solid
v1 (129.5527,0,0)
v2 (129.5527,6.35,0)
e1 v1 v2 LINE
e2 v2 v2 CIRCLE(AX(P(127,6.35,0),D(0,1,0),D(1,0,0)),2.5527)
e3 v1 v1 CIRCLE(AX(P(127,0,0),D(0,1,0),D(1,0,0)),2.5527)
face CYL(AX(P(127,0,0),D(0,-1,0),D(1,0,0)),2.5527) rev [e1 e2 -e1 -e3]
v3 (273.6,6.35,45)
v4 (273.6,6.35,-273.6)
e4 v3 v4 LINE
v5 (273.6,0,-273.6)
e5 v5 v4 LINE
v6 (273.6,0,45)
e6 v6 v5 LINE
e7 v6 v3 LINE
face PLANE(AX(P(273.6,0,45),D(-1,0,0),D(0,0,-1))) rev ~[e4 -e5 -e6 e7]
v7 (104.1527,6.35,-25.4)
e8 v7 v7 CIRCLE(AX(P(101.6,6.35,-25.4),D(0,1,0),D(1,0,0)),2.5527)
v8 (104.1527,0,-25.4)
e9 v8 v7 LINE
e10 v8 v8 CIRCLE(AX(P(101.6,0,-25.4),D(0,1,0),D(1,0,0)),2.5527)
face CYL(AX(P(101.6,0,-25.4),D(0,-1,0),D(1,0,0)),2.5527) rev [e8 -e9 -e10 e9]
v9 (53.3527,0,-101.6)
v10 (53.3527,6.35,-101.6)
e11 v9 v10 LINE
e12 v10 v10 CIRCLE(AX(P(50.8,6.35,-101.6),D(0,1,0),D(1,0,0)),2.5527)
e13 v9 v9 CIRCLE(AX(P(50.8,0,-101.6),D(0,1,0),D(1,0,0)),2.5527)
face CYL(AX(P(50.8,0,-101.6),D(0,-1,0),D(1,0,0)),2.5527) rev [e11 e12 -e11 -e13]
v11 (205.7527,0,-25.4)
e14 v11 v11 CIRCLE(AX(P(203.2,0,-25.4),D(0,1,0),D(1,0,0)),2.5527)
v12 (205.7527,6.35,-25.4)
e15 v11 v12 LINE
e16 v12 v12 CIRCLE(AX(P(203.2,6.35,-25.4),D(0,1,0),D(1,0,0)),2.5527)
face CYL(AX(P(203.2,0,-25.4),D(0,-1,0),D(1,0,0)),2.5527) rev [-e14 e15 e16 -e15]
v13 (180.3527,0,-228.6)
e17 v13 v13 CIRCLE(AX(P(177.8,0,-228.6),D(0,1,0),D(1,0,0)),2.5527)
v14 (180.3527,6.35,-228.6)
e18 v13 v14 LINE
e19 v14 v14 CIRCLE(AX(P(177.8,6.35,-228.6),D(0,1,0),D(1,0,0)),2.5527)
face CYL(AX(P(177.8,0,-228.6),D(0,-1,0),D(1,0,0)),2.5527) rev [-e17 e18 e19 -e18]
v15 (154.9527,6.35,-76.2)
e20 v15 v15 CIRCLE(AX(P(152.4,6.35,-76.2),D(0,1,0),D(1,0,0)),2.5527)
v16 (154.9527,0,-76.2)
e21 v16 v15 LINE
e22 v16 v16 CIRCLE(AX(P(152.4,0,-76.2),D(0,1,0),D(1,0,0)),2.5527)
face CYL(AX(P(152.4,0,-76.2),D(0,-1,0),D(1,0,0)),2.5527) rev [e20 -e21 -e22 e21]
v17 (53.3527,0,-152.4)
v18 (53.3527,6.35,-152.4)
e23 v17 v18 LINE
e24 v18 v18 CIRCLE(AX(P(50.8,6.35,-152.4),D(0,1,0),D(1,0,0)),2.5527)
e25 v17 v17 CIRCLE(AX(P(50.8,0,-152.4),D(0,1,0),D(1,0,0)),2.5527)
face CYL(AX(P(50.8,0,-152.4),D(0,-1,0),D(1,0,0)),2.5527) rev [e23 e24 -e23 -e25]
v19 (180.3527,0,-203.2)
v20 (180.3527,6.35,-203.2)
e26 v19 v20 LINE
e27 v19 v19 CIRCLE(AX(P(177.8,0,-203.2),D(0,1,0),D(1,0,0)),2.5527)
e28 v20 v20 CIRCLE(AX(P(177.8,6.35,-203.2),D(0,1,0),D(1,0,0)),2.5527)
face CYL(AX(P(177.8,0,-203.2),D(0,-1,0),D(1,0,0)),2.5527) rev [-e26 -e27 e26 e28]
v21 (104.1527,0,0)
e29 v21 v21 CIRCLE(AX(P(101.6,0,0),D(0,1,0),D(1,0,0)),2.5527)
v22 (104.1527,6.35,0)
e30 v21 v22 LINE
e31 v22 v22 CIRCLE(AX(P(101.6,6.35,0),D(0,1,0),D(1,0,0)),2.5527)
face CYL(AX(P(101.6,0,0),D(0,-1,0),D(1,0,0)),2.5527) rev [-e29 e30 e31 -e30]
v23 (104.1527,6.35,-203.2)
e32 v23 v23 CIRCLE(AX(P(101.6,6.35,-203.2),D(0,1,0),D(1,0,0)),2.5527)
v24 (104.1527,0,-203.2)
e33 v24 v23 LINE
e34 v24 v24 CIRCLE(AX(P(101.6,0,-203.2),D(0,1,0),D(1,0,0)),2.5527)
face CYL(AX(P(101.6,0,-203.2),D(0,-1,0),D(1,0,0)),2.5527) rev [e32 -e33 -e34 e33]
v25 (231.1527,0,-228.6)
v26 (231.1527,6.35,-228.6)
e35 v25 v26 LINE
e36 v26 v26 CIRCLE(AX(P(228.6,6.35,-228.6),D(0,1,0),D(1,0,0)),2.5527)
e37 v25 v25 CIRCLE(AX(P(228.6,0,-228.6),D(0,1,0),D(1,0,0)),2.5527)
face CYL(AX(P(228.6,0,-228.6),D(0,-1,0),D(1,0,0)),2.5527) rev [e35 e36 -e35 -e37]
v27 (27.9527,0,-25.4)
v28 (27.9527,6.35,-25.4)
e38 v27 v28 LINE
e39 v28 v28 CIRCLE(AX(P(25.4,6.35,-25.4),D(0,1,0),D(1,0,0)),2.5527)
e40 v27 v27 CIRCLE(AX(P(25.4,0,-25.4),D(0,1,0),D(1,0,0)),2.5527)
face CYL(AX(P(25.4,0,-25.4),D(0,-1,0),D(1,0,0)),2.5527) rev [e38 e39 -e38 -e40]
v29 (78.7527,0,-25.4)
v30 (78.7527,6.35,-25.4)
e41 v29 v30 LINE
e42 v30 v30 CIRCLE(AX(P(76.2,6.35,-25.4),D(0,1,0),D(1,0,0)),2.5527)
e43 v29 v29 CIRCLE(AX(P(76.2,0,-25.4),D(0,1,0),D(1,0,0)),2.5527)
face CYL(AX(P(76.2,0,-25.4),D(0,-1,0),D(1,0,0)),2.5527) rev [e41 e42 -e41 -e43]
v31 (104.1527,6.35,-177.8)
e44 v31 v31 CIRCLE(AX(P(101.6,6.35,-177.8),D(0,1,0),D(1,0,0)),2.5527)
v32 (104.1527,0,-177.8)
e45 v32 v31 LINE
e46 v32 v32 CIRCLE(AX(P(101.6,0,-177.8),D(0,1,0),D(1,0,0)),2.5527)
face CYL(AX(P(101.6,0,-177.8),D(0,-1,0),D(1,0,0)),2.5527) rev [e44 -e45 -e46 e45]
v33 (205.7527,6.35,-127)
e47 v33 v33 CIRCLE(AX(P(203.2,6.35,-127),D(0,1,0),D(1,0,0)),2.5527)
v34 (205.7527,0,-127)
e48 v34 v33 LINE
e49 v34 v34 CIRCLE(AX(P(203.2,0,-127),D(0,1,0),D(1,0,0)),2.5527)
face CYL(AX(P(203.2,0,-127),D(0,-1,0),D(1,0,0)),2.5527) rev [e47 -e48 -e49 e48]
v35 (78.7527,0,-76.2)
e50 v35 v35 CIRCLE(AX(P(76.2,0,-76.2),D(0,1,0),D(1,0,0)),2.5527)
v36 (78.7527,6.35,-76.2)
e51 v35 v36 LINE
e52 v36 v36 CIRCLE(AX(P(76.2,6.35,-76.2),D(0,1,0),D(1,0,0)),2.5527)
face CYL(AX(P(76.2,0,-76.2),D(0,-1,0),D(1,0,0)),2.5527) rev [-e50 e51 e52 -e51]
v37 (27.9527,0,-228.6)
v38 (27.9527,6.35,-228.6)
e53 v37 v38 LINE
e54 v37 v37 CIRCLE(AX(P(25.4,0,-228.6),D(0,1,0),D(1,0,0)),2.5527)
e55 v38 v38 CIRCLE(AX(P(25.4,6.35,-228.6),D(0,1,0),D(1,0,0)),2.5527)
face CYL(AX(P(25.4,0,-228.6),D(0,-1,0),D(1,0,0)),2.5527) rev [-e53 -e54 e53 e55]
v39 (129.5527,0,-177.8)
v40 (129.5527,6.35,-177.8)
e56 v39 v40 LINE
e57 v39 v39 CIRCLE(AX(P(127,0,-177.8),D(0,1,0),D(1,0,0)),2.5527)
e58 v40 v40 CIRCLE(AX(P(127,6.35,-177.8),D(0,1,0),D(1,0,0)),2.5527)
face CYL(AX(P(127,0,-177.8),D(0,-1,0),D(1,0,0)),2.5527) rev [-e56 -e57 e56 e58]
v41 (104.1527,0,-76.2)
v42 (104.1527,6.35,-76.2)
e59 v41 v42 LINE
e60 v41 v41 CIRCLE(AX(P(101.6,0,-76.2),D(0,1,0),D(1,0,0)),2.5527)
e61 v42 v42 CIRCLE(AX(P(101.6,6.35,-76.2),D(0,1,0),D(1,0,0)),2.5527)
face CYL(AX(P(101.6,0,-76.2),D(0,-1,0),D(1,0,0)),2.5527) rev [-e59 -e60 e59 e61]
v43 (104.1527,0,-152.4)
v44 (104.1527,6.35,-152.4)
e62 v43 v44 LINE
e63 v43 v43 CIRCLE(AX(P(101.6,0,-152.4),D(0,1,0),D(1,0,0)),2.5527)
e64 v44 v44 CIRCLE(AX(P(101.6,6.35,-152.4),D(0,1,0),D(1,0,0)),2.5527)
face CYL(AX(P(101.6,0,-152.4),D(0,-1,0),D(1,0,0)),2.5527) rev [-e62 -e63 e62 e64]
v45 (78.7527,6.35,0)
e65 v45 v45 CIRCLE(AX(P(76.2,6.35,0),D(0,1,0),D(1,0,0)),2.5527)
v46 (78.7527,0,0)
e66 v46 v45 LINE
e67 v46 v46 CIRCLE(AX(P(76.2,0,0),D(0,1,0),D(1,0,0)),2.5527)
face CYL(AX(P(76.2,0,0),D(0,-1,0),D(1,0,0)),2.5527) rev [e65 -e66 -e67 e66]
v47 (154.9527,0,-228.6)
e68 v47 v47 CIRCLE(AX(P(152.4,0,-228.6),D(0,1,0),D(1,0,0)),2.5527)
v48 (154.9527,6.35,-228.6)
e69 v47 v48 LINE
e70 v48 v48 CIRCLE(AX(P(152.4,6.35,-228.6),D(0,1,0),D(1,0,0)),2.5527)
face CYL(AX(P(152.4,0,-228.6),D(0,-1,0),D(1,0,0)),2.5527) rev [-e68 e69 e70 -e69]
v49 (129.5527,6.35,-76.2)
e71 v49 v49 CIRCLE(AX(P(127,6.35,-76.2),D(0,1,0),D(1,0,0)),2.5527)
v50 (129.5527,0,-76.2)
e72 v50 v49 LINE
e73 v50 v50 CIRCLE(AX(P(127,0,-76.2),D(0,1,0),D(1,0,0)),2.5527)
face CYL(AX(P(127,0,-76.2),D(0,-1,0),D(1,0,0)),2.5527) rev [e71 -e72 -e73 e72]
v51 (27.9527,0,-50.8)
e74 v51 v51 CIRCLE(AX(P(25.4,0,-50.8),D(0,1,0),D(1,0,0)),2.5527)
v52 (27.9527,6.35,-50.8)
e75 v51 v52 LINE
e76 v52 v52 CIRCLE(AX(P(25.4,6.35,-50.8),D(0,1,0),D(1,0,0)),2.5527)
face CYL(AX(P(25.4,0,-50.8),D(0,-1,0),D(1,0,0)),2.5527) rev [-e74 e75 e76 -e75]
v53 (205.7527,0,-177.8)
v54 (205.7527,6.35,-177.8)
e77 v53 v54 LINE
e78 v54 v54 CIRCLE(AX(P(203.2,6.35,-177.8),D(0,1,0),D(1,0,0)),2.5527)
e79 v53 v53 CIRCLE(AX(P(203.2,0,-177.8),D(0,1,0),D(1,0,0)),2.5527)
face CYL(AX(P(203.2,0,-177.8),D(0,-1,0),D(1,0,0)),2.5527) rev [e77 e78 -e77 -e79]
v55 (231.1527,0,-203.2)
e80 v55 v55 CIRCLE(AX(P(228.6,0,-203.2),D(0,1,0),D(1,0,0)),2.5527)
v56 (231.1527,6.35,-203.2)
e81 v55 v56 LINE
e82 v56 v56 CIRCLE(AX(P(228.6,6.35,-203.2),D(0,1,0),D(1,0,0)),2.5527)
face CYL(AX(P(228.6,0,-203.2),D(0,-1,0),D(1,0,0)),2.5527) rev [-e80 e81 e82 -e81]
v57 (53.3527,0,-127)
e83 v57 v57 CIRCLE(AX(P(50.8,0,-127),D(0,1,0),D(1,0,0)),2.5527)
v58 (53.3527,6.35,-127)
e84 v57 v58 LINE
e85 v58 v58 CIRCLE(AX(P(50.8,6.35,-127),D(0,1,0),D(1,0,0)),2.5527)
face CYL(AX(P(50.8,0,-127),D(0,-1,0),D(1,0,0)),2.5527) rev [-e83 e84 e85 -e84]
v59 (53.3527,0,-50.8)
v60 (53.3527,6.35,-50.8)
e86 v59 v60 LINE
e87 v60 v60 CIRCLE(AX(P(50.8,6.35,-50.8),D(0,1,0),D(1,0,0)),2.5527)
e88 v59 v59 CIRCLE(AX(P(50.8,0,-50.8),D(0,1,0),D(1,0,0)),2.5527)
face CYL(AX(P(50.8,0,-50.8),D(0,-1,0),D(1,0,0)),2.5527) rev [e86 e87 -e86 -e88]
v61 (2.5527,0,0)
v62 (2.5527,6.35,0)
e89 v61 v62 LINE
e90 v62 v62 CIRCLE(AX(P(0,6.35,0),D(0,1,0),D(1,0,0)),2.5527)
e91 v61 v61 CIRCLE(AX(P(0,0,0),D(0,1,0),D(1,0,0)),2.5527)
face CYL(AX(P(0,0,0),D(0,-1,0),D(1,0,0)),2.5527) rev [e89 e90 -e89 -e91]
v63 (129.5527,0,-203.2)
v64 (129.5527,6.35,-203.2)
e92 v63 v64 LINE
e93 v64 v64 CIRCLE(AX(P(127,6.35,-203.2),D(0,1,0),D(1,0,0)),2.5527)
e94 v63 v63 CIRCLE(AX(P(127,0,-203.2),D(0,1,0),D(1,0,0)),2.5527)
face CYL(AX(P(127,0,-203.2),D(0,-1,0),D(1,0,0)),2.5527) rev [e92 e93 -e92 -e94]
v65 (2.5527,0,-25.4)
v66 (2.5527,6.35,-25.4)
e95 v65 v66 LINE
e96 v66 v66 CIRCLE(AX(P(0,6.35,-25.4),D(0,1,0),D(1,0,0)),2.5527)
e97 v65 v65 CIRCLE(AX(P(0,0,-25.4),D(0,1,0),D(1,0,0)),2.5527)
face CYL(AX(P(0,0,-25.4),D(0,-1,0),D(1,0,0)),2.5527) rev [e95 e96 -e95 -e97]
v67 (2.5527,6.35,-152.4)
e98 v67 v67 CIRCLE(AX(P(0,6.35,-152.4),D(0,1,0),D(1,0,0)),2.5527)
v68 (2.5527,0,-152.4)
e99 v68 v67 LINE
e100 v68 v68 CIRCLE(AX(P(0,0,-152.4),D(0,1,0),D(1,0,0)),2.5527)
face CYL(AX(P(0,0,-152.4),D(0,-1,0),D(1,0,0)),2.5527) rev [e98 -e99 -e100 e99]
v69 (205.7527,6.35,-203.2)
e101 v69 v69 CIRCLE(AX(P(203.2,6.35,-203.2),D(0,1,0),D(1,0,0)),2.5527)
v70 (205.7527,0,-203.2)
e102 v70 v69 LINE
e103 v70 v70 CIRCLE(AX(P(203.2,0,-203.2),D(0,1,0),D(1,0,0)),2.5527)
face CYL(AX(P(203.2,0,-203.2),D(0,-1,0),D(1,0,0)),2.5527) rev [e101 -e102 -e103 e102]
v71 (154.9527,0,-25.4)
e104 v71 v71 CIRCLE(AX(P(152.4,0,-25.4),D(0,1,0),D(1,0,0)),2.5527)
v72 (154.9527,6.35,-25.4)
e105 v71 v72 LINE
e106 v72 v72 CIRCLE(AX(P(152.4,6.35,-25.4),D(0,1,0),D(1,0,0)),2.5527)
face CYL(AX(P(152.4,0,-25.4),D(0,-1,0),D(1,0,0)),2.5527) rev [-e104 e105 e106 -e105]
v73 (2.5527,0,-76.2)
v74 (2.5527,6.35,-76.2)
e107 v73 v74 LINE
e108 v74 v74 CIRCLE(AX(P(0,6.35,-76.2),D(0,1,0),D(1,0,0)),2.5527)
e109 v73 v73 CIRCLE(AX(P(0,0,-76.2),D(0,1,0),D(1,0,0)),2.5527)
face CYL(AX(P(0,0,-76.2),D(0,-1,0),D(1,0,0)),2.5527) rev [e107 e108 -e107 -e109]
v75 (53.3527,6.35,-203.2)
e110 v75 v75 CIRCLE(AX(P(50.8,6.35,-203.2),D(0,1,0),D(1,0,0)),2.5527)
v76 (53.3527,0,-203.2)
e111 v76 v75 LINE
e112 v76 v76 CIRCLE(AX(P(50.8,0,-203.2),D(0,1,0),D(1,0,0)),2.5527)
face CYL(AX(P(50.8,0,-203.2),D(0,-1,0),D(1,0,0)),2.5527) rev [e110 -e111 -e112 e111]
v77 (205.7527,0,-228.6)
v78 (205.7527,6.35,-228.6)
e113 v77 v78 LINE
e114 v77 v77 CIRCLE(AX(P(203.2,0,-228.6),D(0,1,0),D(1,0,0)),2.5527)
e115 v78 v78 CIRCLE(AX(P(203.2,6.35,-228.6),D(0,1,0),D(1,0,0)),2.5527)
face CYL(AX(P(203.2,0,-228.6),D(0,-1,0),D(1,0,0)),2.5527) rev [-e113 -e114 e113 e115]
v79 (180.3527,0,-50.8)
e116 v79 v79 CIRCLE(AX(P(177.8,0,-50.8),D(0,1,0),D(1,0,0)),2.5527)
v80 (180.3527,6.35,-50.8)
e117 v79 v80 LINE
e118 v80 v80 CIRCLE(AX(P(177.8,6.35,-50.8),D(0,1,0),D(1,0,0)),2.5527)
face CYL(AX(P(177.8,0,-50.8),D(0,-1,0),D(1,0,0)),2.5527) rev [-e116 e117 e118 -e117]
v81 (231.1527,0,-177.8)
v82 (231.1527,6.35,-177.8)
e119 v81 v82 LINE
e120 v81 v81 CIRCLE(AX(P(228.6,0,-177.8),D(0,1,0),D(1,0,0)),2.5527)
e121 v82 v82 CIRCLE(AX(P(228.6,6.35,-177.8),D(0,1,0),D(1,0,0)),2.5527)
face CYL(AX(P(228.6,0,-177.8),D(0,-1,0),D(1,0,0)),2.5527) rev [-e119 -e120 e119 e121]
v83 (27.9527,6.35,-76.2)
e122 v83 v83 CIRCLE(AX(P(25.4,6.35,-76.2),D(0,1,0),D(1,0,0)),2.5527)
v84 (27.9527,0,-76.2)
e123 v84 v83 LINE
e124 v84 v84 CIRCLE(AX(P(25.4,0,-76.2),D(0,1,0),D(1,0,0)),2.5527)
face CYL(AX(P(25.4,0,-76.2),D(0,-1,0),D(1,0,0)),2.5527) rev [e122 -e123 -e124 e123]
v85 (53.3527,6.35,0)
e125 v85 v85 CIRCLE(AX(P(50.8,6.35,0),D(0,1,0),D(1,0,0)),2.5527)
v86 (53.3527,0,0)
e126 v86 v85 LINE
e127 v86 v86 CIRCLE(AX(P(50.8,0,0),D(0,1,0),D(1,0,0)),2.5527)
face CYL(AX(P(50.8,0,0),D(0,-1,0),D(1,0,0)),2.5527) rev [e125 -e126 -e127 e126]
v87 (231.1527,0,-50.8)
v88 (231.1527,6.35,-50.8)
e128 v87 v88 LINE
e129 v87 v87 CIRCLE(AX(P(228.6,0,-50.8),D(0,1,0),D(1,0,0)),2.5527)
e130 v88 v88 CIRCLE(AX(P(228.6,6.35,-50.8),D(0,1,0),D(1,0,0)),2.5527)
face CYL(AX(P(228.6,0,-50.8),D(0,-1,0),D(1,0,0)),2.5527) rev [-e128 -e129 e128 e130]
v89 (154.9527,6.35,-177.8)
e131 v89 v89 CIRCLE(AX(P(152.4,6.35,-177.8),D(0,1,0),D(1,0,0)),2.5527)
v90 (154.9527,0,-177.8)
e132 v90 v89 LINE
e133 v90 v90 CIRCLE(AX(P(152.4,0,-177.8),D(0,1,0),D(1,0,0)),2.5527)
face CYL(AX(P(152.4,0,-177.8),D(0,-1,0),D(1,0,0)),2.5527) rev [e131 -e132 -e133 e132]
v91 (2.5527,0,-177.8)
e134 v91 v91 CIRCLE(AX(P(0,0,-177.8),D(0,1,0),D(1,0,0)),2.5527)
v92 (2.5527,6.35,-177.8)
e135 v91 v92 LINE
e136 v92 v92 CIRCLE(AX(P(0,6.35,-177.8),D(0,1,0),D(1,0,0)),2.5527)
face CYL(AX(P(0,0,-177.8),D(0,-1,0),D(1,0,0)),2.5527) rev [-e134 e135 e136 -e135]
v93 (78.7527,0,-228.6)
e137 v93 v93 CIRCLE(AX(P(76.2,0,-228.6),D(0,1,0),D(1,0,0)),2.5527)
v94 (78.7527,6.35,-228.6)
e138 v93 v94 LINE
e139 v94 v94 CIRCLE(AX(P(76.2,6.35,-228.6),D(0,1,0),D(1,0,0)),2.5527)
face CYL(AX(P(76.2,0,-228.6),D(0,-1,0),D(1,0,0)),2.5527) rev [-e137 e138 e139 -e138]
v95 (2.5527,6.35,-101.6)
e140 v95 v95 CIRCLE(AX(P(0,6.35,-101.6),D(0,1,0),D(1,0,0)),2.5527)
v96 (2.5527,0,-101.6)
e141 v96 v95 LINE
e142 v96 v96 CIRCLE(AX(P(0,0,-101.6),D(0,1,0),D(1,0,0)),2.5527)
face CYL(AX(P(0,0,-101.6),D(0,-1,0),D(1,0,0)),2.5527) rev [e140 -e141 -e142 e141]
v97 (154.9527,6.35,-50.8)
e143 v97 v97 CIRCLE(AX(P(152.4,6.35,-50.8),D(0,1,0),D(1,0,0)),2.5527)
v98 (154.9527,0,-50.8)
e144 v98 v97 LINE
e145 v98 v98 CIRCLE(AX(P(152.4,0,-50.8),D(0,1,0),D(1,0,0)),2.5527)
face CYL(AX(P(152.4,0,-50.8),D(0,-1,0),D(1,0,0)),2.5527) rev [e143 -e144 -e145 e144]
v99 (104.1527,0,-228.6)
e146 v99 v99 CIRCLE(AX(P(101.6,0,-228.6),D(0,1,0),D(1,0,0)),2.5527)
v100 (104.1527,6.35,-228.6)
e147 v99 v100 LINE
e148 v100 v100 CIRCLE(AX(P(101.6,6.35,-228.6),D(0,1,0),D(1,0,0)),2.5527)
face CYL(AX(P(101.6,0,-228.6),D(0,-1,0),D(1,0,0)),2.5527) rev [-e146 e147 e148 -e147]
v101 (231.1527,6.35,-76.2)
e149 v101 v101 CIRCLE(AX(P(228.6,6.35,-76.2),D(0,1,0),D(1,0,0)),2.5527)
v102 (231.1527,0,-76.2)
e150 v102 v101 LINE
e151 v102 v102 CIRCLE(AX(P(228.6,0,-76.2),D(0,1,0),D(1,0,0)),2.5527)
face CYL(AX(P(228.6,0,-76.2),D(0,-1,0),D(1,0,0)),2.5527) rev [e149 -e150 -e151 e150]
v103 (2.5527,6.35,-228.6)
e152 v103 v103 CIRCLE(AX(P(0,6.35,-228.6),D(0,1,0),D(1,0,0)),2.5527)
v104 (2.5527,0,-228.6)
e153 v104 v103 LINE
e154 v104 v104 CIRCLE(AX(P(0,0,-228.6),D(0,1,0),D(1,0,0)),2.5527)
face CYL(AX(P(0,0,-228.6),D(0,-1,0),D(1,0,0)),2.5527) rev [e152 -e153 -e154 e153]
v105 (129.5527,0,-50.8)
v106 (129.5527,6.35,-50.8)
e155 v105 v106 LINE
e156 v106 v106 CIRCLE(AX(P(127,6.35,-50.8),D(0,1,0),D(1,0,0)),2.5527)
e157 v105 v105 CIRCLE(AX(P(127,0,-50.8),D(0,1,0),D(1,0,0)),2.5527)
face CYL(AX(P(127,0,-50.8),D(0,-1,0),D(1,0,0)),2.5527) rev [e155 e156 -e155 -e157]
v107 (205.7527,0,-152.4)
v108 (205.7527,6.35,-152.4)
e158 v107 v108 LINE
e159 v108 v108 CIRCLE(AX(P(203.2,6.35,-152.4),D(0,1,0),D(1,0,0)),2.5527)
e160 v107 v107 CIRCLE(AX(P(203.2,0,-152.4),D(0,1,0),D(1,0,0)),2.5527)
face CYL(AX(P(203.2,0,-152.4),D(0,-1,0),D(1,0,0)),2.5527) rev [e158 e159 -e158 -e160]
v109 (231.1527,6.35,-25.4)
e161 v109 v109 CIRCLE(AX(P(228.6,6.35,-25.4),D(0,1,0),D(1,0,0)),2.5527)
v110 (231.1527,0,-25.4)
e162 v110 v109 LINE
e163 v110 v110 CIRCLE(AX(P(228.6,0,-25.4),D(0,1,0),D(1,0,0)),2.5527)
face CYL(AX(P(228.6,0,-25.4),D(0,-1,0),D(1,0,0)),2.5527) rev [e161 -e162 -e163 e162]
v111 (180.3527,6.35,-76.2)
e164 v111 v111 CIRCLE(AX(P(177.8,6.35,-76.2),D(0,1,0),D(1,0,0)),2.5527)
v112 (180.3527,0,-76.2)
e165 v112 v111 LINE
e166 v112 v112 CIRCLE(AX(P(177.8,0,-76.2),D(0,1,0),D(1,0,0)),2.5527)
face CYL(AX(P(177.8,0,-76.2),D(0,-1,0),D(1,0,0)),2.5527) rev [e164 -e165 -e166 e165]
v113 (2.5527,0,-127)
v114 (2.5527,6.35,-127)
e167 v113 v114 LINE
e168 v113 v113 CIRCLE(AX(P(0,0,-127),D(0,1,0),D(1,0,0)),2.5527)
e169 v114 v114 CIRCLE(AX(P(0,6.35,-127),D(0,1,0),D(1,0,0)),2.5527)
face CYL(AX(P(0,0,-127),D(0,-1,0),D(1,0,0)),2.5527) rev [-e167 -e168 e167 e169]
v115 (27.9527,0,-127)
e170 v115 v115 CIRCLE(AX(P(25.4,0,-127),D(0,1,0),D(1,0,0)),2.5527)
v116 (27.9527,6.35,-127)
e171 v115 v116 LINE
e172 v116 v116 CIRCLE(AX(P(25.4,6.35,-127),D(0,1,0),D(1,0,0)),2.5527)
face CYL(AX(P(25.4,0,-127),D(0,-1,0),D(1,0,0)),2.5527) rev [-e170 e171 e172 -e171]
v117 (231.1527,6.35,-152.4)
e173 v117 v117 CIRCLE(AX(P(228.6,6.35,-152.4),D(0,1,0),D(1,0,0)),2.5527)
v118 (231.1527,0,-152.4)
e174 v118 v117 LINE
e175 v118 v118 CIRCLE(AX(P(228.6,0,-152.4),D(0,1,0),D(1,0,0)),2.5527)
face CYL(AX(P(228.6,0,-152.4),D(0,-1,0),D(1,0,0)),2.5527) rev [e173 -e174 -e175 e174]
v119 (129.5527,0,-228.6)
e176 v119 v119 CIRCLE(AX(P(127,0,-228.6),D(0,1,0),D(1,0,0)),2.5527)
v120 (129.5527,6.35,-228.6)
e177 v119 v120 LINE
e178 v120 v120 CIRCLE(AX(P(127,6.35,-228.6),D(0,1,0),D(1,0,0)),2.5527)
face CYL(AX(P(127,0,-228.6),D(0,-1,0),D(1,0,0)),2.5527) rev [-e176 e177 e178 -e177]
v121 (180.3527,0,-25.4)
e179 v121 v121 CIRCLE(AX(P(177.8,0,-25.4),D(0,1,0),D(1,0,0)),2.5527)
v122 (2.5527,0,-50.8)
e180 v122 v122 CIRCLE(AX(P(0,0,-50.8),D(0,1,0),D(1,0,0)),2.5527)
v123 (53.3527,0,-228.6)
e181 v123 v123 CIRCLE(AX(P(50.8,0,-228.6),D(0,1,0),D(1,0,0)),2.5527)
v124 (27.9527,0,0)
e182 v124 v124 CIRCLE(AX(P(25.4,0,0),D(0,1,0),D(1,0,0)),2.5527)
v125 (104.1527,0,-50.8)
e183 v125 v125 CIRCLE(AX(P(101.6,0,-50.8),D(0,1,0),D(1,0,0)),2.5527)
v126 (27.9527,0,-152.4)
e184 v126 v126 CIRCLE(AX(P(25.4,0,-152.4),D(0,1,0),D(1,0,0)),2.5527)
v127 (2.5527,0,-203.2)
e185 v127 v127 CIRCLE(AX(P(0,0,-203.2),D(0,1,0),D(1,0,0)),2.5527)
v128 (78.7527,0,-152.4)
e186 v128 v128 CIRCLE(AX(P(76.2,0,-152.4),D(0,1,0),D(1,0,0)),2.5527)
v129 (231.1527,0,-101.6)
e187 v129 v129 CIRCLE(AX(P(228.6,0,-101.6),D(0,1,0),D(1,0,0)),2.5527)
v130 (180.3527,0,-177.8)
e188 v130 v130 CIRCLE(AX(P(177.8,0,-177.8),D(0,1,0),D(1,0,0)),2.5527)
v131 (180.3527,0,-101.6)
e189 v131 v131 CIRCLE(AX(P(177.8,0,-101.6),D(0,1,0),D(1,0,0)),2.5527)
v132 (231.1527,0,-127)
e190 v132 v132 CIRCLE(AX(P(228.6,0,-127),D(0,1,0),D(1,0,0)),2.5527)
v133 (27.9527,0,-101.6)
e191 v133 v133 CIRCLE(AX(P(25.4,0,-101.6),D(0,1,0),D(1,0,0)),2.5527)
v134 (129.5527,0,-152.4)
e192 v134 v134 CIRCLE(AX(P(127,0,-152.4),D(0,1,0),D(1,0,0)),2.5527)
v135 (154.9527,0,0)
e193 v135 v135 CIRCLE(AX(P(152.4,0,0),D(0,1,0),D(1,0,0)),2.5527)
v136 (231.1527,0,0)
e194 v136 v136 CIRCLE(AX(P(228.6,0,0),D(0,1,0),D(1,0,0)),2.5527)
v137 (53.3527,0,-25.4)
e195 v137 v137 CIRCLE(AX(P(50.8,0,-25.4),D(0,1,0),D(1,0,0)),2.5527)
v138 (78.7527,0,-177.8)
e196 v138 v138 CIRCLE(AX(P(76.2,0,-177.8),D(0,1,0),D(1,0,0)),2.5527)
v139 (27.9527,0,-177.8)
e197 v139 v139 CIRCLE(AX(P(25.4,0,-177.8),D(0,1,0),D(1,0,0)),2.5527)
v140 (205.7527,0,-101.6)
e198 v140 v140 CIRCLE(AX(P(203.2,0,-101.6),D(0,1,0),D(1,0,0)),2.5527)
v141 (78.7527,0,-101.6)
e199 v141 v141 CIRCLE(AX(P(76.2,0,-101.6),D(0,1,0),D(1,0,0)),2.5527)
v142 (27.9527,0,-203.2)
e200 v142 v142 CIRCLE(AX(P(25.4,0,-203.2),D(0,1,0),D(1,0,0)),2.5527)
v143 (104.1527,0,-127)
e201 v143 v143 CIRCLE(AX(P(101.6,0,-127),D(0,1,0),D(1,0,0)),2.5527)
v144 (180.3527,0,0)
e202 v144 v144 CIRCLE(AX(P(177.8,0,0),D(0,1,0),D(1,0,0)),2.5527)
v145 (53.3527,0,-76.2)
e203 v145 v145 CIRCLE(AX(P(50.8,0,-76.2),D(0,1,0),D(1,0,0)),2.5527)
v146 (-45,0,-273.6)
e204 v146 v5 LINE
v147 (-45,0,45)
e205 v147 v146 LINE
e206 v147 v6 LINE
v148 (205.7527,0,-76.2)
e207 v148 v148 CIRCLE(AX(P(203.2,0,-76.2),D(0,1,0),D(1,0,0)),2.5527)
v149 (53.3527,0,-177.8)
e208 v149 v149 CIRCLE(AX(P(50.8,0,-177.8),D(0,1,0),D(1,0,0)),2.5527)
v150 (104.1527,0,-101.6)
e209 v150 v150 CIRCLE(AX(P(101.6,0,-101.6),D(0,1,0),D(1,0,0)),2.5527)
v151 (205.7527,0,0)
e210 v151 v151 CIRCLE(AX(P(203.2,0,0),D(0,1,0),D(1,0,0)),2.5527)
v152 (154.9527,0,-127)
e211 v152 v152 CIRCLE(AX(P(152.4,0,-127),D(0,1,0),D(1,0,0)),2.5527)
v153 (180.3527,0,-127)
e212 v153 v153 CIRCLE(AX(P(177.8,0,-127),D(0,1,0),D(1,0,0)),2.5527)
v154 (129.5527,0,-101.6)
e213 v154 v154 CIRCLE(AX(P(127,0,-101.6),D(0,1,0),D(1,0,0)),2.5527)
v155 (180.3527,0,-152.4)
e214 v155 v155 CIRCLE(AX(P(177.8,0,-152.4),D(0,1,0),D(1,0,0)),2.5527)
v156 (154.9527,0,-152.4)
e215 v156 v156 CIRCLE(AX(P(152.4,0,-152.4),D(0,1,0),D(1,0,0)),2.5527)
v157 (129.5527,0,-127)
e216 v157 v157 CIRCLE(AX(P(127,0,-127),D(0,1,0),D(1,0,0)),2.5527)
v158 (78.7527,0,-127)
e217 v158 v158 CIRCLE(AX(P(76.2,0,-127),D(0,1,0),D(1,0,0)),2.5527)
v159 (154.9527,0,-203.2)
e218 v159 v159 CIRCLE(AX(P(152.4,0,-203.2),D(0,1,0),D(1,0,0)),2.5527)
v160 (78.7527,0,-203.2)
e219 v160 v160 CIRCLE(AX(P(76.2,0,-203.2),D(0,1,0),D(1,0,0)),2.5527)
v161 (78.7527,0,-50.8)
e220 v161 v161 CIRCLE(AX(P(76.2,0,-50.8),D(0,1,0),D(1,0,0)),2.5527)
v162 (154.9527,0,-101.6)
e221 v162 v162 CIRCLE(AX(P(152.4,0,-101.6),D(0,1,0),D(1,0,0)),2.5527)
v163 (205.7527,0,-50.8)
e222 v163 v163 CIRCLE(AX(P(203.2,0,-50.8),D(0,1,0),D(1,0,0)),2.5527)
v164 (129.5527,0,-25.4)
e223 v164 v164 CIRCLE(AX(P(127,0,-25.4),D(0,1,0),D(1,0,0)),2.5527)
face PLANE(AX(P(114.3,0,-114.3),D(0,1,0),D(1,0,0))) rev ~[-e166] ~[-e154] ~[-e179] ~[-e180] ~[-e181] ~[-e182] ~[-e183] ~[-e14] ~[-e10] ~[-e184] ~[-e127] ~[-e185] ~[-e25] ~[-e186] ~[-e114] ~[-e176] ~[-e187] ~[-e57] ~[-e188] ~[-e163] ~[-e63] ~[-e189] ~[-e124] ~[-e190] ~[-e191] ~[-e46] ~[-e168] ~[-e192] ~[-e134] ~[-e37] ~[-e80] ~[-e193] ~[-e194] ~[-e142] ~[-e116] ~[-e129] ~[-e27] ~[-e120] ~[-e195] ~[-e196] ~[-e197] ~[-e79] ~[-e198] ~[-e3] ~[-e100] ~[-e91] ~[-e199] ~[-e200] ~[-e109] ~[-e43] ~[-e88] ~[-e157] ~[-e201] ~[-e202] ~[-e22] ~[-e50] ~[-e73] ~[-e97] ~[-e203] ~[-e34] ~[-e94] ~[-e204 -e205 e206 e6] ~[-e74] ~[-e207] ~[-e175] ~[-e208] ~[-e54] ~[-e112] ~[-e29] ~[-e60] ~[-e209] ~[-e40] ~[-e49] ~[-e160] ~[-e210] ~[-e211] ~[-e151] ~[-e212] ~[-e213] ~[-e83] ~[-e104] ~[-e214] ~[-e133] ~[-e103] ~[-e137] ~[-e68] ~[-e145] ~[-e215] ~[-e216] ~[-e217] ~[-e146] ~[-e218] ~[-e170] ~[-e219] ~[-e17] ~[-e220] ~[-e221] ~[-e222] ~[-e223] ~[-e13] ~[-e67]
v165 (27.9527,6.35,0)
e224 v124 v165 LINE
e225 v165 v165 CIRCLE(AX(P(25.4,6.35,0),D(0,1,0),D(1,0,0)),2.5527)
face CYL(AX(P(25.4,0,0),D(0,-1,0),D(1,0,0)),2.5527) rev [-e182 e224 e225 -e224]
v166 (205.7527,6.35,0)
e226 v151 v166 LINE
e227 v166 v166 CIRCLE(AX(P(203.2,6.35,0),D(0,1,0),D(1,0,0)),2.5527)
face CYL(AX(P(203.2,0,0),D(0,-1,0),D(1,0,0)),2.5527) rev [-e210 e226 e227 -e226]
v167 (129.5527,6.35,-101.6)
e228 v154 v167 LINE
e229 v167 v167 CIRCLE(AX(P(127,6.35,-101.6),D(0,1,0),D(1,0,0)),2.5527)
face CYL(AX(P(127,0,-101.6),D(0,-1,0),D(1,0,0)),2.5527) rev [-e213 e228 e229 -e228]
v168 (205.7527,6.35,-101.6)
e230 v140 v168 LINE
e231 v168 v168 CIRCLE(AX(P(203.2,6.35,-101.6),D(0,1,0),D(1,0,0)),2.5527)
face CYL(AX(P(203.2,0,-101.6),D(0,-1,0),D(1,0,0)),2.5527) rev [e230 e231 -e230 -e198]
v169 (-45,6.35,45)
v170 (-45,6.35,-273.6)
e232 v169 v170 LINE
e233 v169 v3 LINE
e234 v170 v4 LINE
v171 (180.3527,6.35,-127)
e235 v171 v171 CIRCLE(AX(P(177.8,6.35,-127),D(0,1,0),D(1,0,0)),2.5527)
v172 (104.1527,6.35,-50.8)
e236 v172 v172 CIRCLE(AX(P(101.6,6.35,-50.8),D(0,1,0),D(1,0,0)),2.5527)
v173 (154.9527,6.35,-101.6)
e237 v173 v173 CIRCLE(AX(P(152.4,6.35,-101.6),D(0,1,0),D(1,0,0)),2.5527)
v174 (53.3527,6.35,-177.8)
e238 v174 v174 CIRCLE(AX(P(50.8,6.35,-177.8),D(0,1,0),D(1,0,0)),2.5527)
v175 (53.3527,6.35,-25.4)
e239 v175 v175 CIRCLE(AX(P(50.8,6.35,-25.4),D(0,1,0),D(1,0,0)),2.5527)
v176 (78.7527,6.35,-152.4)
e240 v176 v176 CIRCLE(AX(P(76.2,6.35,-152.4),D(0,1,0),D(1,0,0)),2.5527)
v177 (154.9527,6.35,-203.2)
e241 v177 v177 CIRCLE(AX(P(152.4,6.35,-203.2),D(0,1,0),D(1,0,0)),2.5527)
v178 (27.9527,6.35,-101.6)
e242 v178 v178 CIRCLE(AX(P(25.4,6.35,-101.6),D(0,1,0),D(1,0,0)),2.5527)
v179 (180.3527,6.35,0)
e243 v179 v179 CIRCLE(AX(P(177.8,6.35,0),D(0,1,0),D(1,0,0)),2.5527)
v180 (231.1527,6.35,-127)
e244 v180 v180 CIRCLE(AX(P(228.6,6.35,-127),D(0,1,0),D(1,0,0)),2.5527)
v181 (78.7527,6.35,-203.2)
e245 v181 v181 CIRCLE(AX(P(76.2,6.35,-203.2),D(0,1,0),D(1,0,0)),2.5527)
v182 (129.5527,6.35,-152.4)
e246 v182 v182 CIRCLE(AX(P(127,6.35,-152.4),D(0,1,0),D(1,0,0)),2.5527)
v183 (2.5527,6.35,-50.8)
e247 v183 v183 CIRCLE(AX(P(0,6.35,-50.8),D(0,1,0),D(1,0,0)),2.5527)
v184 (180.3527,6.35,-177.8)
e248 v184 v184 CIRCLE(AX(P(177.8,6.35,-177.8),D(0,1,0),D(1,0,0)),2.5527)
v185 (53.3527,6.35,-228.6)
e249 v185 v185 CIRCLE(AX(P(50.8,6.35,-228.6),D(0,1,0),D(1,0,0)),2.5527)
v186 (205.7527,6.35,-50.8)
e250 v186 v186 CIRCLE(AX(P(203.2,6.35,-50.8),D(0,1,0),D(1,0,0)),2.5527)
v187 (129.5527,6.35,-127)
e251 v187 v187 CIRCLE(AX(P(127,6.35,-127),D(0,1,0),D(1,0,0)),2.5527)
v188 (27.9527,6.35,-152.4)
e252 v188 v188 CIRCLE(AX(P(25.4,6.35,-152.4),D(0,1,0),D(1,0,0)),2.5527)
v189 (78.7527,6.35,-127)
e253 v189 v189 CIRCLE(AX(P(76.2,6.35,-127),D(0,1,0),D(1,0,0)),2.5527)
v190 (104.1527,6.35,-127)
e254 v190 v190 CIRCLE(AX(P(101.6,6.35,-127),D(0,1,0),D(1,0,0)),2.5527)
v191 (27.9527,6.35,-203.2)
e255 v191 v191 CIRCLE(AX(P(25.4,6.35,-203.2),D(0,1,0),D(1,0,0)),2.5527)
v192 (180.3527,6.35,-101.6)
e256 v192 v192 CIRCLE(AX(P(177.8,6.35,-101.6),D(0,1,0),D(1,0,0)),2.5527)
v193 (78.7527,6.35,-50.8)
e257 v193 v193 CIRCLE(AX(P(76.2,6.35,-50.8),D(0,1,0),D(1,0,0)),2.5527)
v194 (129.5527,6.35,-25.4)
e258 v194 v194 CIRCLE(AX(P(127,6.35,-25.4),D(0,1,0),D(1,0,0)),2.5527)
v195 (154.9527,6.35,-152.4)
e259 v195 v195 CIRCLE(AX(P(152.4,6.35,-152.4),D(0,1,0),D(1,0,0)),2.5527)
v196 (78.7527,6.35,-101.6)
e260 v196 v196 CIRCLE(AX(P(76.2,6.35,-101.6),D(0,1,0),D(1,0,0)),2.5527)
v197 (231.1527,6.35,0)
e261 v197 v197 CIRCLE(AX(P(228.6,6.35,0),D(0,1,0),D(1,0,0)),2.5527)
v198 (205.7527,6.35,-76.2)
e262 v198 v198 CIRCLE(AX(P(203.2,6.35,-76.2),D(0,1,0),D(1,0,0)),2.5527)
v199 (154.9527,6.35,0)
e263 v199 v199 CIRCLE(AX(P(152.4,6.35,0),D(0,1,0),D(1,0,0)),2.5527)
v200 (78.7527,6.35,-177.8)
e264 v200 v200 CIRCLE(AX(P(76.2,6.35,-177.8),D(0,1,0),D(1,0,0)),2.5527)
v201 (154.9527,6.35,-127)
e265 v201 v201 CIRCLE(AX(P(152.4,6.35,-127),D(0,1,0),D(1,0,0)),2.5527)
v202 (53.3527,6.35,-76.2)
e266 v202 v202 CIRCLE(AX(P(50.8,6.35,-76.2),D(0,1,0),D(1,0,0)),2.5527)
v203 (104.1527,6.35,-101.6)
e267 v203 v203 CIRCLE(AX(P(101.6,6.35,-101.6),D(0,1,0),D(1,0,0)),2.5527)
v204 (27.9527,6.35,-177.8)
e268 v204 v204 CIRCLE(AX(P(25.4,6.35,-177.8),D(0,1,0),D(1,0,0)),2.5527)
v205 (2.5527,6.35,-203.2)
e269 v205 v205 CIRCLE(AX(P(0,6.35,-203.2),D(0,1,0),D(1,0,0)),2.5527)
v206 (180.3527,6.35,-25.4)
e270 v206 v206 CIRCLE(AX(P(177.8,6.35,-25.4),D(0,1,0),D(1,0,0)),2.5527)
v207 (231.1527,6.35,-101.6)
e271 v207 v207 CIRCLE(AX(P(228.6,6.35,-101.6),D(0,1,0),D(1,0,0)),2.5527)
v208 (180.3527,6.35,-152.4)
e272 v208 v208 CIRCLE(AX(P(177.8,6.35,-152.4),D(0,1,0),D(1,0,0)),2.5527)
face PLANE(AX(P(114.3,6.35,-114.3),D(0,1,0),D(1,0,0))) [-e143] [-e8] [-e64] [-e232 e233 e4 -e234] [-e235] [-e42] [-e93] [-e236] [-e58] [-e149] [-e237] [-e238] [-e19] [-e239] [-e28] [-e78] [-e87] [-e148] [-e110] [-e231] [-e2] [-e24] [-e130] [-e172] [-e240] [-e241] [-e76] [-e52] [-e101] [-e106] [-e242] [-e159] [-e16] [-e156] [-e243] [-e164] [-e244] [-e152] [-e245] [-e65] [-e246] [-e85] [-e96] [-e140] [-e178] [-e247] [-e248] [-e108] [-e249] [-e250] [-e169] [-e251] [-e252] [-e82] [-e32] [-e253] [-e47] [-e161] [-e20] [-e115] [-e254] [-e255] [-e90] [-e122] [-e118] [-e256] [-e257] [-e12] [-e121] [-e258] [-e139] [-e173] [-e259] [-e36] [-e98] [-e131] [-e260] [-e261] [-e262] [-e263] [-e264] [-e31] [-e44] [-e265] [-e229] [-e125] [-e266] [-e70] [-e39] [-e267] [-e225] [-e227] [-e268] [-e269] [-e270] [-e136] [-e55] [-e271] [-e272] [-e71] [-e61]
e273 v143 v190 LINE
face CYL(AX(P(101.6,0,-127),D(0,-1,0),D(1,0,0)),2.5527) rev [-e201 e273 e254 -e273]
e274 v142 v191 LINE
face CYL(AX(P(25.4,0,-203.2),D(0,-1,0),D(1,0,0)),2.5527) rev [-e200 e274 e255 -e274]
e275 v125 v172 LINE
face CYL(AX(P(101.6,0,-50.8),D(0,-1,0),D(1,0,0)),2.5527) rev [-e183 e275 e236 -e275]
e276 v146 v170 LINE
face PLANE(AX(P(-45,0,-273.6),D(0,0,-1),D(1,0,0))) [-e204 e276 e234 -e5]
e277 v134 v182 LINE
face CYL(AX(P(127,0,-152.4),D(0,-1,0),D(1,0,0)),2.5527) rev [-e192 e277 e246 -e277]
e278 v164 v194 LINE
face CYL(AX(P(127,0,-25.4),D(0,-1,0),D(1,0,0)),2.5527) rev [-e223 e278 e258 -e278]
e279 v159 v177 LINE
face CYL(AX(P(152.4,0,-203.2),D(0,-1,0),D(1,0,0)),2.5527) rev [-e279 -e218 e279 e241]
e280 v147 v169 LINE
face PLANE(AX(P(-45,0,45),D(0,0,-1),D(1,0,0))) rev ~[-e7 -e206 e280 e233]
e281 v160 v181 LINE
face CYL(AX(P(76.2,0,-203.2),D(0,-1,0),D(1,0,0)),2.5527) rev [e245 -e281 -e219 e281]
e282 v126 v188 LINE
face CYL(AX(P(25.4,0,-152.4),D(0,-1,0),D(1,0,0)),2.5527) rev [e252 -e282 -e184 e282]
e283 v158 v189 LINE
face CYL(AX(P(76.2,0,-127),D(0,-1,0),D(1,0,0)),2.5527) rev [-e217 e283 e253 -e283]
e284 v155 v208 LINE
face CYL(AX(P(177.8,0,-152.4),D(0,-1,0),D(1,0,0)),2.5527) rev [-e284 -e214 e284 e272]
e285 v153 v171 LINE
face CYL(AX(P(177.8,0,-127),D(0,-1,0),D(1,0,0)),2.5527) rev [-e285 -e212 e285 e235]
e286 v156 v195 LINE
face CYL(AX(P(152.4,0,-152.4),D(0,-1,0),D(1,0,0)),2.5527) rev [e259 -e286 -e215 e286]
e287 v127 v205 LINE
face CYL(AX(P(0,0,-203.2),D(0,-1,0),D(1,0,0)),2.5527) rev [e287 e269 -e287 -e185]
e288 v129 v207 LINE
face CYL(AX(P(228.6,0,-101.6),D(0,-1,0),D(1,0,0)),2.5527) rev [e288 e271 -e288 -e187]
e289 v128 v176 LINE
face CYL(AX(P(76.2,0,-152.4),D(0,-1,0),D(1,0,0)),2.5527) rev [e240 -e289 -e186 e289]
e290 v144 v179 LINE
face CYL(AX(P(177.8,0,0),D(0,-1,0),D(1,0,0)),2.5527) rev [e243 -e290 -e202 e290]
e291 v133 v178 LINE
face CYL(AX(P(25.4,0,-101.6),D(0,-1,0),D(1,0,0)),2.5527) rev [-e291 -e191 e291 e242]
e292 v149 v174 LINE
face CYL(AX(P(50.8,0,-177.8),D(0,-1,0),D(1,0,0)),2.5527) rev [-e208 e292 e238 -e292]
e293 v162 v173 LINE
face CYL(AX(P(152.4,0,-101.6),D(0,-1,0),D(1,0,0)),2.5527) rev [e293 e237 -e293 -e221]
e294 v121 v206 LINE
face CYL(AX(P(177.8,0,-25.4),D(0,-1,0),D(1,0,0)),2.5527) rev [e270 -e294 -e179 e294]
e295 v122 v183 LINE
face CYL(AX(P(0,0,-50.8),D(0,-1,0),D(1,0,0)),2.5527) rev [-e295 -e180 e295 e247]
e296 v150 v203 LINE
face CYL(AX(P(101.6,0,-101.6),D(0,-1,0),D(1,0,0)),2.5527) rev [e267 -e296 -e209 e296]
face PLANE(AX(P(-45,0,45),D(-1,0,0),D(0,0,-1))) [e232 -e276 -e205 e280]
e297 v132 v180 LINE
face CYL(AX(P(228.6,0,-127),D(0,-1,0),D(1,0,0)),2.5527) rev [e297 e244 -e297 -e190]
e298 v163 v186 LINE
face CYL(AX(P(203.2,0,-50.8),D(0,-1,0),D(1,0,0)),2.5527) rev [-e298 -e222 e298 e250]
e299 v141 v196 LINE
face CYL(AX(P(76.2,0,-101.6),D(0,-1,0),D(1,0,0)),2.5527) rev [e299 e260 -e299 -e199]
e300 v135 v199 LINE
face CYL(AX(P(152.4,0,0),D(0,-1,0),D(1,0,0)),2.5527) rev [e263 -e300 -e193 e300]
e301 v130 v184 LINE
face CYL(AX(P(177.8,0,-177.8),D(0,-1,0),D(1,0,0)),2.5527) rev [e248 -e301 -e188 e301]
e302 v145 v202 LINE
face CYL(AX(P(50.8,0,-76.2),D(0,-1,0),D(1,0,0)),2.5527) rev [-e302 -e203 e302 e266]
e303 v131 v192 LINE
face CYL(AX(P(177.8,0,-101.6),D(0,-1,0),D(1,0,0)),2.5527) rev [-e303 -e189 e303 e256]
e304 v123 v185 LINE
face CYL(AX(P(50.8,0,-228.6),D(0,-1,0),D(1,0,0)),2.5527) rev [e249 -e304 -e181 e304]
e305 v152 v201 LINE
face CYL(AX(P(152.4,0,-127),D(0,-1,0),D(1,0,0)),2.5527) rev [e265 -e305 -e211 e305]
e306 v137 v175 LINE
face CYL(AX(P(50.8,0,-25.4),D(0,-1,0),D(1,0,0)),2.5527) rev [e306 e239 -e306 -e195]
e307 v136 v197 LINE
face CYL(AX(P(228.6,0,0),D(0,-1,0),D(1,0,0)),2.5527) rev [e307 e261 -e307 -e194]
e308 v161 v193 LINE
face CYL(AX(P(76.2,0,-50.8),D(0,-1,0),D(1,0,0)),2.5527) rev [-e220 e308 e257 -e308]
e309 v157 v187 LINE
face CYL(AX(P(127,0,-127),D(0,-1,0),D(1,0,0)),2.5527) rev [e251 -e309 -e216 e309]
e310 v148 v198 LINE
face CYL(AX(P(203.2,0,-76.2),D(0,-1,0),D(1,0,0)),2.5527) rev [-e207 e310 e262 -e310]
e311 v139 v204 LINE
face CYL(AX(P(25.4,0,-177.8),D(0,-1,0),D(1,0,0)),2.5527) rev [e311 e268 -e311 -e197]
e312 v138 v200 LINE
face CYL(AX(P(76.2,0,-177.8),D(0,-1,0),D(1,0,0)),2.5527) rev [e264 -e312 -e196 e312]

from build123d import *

# Parameters (mm, degrees)
SKETCH1_W           = 318.6
SKETCH1_H           = 318.6
SKETCH1_R           = 2.5527
BOSS_EXTRUDE1_DEPTH = 6.35


with BuildPart() as part:
    # Sketch1 → Boss-Extrude1 (new body)
    with BuildSketch(Plane(origin=(0, 0, 0), x_dir=(1, 0, 0), z_dir=(0, 1, 0))):
        with Locations((114.3, 114.3)):
            Rectangle(SKETCH1_W, SKETCH1_H)
        Circle(SKETCH1_R, mode=Mode.SUBTRACT)
        with Locations((25.4, 0)):
            Circle(SKETCH1_R, mode=Mode.SUBTRACT)
        with Locations((50.8, 0)):
            Circle(SKETCH1_R, mode=Mode.SUBTRACT)
        with Locations((76.2, 0)):
            Circle(SKETCH1_R, mode=Mode.SUBTRACT)
        with Locations((101.6, 0)):
            Circle(SKETCH1_R, mode=Mode.SUBTRACT)
        with Locations((127, 0)):
            Circle(SKETCH1_R, mode=Mode.SUBTRACT)
        with Locations((152.4, 0)):
            Circle(SKETCH1_R, mode=Mode.SUBTRACT)
        with Locations((177.8, 0)):
            Circle(SKETCH1_R, mode=Mode.SUBTRACT)
        with Locations((203.2, 0)):
            Circle(SKETCH1_R, mode=Mode.SUBTRACT)
        with Locations((228.6, 0)):
            Circle(SKETCH1_R, mode=Mode.SUBTRACT)
        with Locations((0, 25.4)):
            Circle(SKETCH1_R, mode=Mode.SUBTRACT)
        with Locations((25.4, 25.4)):
            Circle(SKETCH1_R, mode=Mode.SUBTRACT)
        with Locations((50.8, 25.4)):
            Circle(SKETCH1_R, mode=Mode.SUBTRACT)
        with Locations((76.2, 25.4)):
            Circle(SKETCH1_R, mode=Mode.SUBTRACT)
        with Locations((101.6, 25.4)):
            Circle(SKETCH1_R, mode=Mode.SUBTRACT)
        with Locations((127, 25.4)):
            Circle(SKETCH1_R, mode=Mode.SUBTRACT)
        with Locations((152.4, 25.4)):
            Circle(SKETCH1_R, mode=Mode.SUBTRACT)
        with Locations((177.8, 25.4)):
            Circle(SKETCH1_R, mode=Mode.SUBTRACT)
        with Locations((203.2, 25.4)):
            Circle(SKETCH1_R, mode=Mode.SUBTRACT)
        with Locations((228.6, 25.4)):
            Circle(SKETCH1_R, mode=Mode.SUBTRACT)
        with Locations((0, 50.8)):
            Circle(SKETCH1_R, mode=Mode.SUBTRACT)
        with Locations((25.4, 50.8)):
            Circle(SKETCH1_R, mode=Mode.SUBTRACT)
        with Locations((50.8, 50.8)):
            Circle(SKETCH1_R, mode=Mode.SUBTRACT)
        with Locations((76.2, 50.8)):
            Circle(SKETCH1_R, mode=Mode.SUBTRACT)
        with Locations((101.6, 50.8)):
            Circle(SKETCH1_R, mode=Mode.SUBTRACT)
        with Locations((127, 50.8)):
            Circle(SKETCH1_R, mode=Mode.SUBTRACT)
        with Locations((152.4, 50.8)):
            Circle(SKETCH1_R, mode=Mode.SUBTRACT)
        with Locations((177.8, 50.8)):
            Circle(SKETCH1_R, mode=Mode.SUBTRACT)
        with Locations((203.2, 50.8)):
            Circle(SKETCH1_R, mode=Mode.SUBTRACT)
        with Locations((228.6, 50.8)):
            Circle(SKETCH1_R, mode=Mode.SUBTRACT)
        with Locations((0, 76.2)):
            Circle(SKETCH1_R, mode=Mode.SUBTRACT)
        with Locations((25.4, 76.2)):
            Circle(SKETCH1_R, mode=Mode.SUBTRACT)
        with Locations((50.8, 76.2)):
            Circle(SKETCH1_R, mode=Mode.SUBTRACT)
        with Locations((76.2, 76.2)):
            Circle(SKETCH1_R, mode=Mode.SUBTRACT)
        with Locations((101.6, 76.2)):
            Circle(SKETCH1_R, mode=Mode.SUBTRACT)
        with Locations((127, 76.2)):
            Circle(SKETCH1_R, mode=Mode.SUBTRACT)
        with Locations((152.4, 76.2)):
            Circle(SKETCH1_R, mode=Mode.SUBTRACT)
        with Locations((177.8, 76.2)):
            Circle(SKETCH1_R, mode=Mode.SUBTRACT)
        with Locations((203.2, 76.2)):
            Circle(SKETCH1_R, mode=Mode.SUBTRACT)
        with Locations((228.6, 76.2)):
            Circle(SKETCH1_R, mode=Mode.SUBTRACT)
        with Locations((0, 101.6)):
            Circle(SKETCH1_R, mode=Mode.SUBTRACT)
        with Locations((25.4, 101.6)):
            Circle(SKETCH1_R, mode=Mode.SUBTRACT)
        with Locations((50.8, 101.6)):
            Circle(SKETCH1_R, mode=Mode.SUBTRACT)
        with Locations((76.2, 101.6)):
            Circle(SKETCH1_R, mode=Mode.SUBTRACT)
        with Locations((101.6, 101.6)):
            Circle(SKETCH1_R, mode=Mode.SUBTRACT)
        with Locations((127, 101.6)):
            Circle(SKETCH1_R, mode=Mode.SUBTRACT)
        with Locations((152.4, 101.6)):
            Circle(SKETCH1_R, mode=Mode.SUBTRACT)
        with Locations((177.8, 101.6)):
            Circle(SKETCH1_R, mode=Mode.SUBTRACT)
        with Locations((203.2, 101.6)):
            Circle(SKETCH1_R, mode=Mode.SUBTRACT)
        with Locations((228.6, 101.6)):
            Circle(SKETCH1_R, mode=Mode.SUBTRACT)
        with Locations((0, 127)):
            Circle(SKETCH1_R, mode=Mode.SUBTRACT)
        with Locations((25.4, 127)):
            Circle(SKETCH1_R, mode=Mode.SUBTRACT)
        with Locations((50.8, 127)):
            Circle(SKETCH1_R, mode=Mode.SUBTRACT)
        with Locations((76.2, 127)):
            Circle(SKETCH1_R, mode=Mode.SUBTRACT)
        with Locations((101.6, 127)):
            Circle(SKETCH1_R, mode=Mode.SUBTRACT)
        with Locations((127, 127)):
            Circle(SKETCH1_R, mode=Mode.SUBTRACT)
        with Locations((152.4, 127)):
            Circle(SKETCH1_R, mode=Mode.SUBTRACT)
        with Locations((177.8, 127)):
            Circle(SKETCH1_R, mode=Mode.SUBTRACT)
        with Locations((203.2, 127)):
            Circle(SKETCH1_R, mode=Mode.SUBTRACT)
        with Locations((228.6, 127)):
            Circle(SKETCH1_R, mode=Mode.SUBTRACT)
        with Locations((0, 152.4)):
            Circle(SKETCH1_R, mode=Mode.SUBTRACT)
        with Locations((25.4, 152.4)):
            Circle(SKETCH1_R, mode=Mode.SUBTRACT)
        with Locations((50.8, 152.4)):
            Circle(SKETCH1_R, mode=Mode.SUBTRACT)
        with Locations((76.2, 152.4)):
            Circle(SKETCH1_R, mode=Mode.SUBTRACT)
        with Locations((101.6, 152.4)):
            Circle(SKETCH1_R, mode=Mode.SUBTRACT)
        with Locations((127, 152.4)):
            Circle(SKETCH1_R, mode=Mode.SUBTRACT)
        with Locations((152.4, 152.4)):
            Circle(SKETCH1_R, mode=Mode.SUBTRACT)
        with Locations((177.8, 152.4)):
            Circle(SKETCH1_R, mode=Mode.SUBTRACT)
        with Locations((203.2, 152.4)):
            Circle(SKETCH1_R, mode=Mode.SUBTRACT)
        with Locations((228.6, 152.4)):
            Circle(SKETCH1_R, mode=Mode.SUBTRACT)
        with Locations((0, 177.8)):
            Circle(SKETCH1_R, mode=Mode.SUBTRACT)
        with Locations((25.4, 177.8)):
            Circle(SKETCH1_R, mode=Mode.SUBTRACT)
        with Locations((50.8, 177.8)):
            Circle(SKETCH1_R, mode=Mode.SUBTRACT)
        with Locations((76.2, 177.8)):
            Circle(SKETCH1_R, mode=Mode.SUBTRACT)
        with Locations((101.6, 177.8)):
            Circle(SKETCH1_R, mode=Mode.SUBTRACT)
        with Locations((127, 177.8)):
            Circle(SKETCH1_R, mode=Mode.SUBTRACT)
        with Locations((152.4, 177.8)):
            Circle(SKETCH1_R, mode=Mode.SUBTRACT)
        with Locations((177.8, 177.8)):
            Circle(SKETCH1_R, mode=Mode.SUBTRACT)
        with Locations((203.2, 177.8)):
            Circle(SKETCH1_R, mode=Mode.SUBTRACT)
        with Locations((228.6, 177.8)):
            Circle(SKETCH1_R, mode=Mode.SUBTRACT)
        with Locations((0, 203.2)):
            Circle(SKETCH1_R, mode=Mode.SUBTRACT)
        with Locations((25.4, 203.2)):
            Circle(SKETCH1_R, mode=Mode.SUBTRACT)
        with Locations((50.8, 203.2)):
            Circle(SKETCH1_R, mode=Mode.SUBTRACT)
        with Locations((76.2, 203.2)):
            Circle(SKETCH1_R, mode=Mode.SUBTRACT)
        with Locations((101.6, 203.2)):
            Circle(SKETCH1_R, mode=Mode.SUBTRACT)
        with Locations((127, 203.2)):
            Circle(SKETCH1_R, mode=Mode.SUBTRACT)
        with Locations((152.4, 203.2)):
            Circle(SKETCH1_R, mode=Mode.SUBTRACT)
        with Locations((177.8, 203.2)):
            Circle(SKETCH1_R, mode=Mode.SUBTRACT)
        with Locations((203.2, 203.2)):
            Circle(SKETCH1_R, mode=Mode.SUBTRACT)
        with Locations((228.6, 203.2)):
            Circle(SKETCH1_R, mode=Mode.SUBTRACT)
        with Locations((0, 228.6)):
            Circle(SKETCH1_R, mode=Mode.SUBTRACT)
        with Locations((25.4, 228.6)):
            Circle(SKETCH1_R, mode=Mode.SUBTRACT)
        with Locations((50.8, 228.6)):
            Circle(SKETCH1_R, mode=Mode.SUBTRACT)
        with Locations((76.2, 228.6)):
            Circle(SKETCH1_R, mode=Mode.SUBTRACT)
        with Locations((101.6, 228.6)):
            Circle(SKETCH1_R, mode=Mode.SUBTRACT)
        with Locations((127, 228.6)):
            Circle(SKETCH1_R, mode=Mode.SUBTRACT)
        with Locations((152.4, 228.6)):
            Circle(SKETCH1_R, mode=Mode.SUBTRACT)
        with Locations((177.8, 228.6)):
            Circle(SKETCH1_R, mode=Mode.SUBTRACT)
        with Locations((203.2, 228.6)):
            Circle(SKETCH1_R, mode=Mode.SUBTRACT)
        with Locations((228.6, 228.6)):
            Circle(SKETCH1_R, mode=Mode.SUBTRACT)
    extrude(amount=BOSS_EXTRUDE1_DEPTH)


solid = part.part
